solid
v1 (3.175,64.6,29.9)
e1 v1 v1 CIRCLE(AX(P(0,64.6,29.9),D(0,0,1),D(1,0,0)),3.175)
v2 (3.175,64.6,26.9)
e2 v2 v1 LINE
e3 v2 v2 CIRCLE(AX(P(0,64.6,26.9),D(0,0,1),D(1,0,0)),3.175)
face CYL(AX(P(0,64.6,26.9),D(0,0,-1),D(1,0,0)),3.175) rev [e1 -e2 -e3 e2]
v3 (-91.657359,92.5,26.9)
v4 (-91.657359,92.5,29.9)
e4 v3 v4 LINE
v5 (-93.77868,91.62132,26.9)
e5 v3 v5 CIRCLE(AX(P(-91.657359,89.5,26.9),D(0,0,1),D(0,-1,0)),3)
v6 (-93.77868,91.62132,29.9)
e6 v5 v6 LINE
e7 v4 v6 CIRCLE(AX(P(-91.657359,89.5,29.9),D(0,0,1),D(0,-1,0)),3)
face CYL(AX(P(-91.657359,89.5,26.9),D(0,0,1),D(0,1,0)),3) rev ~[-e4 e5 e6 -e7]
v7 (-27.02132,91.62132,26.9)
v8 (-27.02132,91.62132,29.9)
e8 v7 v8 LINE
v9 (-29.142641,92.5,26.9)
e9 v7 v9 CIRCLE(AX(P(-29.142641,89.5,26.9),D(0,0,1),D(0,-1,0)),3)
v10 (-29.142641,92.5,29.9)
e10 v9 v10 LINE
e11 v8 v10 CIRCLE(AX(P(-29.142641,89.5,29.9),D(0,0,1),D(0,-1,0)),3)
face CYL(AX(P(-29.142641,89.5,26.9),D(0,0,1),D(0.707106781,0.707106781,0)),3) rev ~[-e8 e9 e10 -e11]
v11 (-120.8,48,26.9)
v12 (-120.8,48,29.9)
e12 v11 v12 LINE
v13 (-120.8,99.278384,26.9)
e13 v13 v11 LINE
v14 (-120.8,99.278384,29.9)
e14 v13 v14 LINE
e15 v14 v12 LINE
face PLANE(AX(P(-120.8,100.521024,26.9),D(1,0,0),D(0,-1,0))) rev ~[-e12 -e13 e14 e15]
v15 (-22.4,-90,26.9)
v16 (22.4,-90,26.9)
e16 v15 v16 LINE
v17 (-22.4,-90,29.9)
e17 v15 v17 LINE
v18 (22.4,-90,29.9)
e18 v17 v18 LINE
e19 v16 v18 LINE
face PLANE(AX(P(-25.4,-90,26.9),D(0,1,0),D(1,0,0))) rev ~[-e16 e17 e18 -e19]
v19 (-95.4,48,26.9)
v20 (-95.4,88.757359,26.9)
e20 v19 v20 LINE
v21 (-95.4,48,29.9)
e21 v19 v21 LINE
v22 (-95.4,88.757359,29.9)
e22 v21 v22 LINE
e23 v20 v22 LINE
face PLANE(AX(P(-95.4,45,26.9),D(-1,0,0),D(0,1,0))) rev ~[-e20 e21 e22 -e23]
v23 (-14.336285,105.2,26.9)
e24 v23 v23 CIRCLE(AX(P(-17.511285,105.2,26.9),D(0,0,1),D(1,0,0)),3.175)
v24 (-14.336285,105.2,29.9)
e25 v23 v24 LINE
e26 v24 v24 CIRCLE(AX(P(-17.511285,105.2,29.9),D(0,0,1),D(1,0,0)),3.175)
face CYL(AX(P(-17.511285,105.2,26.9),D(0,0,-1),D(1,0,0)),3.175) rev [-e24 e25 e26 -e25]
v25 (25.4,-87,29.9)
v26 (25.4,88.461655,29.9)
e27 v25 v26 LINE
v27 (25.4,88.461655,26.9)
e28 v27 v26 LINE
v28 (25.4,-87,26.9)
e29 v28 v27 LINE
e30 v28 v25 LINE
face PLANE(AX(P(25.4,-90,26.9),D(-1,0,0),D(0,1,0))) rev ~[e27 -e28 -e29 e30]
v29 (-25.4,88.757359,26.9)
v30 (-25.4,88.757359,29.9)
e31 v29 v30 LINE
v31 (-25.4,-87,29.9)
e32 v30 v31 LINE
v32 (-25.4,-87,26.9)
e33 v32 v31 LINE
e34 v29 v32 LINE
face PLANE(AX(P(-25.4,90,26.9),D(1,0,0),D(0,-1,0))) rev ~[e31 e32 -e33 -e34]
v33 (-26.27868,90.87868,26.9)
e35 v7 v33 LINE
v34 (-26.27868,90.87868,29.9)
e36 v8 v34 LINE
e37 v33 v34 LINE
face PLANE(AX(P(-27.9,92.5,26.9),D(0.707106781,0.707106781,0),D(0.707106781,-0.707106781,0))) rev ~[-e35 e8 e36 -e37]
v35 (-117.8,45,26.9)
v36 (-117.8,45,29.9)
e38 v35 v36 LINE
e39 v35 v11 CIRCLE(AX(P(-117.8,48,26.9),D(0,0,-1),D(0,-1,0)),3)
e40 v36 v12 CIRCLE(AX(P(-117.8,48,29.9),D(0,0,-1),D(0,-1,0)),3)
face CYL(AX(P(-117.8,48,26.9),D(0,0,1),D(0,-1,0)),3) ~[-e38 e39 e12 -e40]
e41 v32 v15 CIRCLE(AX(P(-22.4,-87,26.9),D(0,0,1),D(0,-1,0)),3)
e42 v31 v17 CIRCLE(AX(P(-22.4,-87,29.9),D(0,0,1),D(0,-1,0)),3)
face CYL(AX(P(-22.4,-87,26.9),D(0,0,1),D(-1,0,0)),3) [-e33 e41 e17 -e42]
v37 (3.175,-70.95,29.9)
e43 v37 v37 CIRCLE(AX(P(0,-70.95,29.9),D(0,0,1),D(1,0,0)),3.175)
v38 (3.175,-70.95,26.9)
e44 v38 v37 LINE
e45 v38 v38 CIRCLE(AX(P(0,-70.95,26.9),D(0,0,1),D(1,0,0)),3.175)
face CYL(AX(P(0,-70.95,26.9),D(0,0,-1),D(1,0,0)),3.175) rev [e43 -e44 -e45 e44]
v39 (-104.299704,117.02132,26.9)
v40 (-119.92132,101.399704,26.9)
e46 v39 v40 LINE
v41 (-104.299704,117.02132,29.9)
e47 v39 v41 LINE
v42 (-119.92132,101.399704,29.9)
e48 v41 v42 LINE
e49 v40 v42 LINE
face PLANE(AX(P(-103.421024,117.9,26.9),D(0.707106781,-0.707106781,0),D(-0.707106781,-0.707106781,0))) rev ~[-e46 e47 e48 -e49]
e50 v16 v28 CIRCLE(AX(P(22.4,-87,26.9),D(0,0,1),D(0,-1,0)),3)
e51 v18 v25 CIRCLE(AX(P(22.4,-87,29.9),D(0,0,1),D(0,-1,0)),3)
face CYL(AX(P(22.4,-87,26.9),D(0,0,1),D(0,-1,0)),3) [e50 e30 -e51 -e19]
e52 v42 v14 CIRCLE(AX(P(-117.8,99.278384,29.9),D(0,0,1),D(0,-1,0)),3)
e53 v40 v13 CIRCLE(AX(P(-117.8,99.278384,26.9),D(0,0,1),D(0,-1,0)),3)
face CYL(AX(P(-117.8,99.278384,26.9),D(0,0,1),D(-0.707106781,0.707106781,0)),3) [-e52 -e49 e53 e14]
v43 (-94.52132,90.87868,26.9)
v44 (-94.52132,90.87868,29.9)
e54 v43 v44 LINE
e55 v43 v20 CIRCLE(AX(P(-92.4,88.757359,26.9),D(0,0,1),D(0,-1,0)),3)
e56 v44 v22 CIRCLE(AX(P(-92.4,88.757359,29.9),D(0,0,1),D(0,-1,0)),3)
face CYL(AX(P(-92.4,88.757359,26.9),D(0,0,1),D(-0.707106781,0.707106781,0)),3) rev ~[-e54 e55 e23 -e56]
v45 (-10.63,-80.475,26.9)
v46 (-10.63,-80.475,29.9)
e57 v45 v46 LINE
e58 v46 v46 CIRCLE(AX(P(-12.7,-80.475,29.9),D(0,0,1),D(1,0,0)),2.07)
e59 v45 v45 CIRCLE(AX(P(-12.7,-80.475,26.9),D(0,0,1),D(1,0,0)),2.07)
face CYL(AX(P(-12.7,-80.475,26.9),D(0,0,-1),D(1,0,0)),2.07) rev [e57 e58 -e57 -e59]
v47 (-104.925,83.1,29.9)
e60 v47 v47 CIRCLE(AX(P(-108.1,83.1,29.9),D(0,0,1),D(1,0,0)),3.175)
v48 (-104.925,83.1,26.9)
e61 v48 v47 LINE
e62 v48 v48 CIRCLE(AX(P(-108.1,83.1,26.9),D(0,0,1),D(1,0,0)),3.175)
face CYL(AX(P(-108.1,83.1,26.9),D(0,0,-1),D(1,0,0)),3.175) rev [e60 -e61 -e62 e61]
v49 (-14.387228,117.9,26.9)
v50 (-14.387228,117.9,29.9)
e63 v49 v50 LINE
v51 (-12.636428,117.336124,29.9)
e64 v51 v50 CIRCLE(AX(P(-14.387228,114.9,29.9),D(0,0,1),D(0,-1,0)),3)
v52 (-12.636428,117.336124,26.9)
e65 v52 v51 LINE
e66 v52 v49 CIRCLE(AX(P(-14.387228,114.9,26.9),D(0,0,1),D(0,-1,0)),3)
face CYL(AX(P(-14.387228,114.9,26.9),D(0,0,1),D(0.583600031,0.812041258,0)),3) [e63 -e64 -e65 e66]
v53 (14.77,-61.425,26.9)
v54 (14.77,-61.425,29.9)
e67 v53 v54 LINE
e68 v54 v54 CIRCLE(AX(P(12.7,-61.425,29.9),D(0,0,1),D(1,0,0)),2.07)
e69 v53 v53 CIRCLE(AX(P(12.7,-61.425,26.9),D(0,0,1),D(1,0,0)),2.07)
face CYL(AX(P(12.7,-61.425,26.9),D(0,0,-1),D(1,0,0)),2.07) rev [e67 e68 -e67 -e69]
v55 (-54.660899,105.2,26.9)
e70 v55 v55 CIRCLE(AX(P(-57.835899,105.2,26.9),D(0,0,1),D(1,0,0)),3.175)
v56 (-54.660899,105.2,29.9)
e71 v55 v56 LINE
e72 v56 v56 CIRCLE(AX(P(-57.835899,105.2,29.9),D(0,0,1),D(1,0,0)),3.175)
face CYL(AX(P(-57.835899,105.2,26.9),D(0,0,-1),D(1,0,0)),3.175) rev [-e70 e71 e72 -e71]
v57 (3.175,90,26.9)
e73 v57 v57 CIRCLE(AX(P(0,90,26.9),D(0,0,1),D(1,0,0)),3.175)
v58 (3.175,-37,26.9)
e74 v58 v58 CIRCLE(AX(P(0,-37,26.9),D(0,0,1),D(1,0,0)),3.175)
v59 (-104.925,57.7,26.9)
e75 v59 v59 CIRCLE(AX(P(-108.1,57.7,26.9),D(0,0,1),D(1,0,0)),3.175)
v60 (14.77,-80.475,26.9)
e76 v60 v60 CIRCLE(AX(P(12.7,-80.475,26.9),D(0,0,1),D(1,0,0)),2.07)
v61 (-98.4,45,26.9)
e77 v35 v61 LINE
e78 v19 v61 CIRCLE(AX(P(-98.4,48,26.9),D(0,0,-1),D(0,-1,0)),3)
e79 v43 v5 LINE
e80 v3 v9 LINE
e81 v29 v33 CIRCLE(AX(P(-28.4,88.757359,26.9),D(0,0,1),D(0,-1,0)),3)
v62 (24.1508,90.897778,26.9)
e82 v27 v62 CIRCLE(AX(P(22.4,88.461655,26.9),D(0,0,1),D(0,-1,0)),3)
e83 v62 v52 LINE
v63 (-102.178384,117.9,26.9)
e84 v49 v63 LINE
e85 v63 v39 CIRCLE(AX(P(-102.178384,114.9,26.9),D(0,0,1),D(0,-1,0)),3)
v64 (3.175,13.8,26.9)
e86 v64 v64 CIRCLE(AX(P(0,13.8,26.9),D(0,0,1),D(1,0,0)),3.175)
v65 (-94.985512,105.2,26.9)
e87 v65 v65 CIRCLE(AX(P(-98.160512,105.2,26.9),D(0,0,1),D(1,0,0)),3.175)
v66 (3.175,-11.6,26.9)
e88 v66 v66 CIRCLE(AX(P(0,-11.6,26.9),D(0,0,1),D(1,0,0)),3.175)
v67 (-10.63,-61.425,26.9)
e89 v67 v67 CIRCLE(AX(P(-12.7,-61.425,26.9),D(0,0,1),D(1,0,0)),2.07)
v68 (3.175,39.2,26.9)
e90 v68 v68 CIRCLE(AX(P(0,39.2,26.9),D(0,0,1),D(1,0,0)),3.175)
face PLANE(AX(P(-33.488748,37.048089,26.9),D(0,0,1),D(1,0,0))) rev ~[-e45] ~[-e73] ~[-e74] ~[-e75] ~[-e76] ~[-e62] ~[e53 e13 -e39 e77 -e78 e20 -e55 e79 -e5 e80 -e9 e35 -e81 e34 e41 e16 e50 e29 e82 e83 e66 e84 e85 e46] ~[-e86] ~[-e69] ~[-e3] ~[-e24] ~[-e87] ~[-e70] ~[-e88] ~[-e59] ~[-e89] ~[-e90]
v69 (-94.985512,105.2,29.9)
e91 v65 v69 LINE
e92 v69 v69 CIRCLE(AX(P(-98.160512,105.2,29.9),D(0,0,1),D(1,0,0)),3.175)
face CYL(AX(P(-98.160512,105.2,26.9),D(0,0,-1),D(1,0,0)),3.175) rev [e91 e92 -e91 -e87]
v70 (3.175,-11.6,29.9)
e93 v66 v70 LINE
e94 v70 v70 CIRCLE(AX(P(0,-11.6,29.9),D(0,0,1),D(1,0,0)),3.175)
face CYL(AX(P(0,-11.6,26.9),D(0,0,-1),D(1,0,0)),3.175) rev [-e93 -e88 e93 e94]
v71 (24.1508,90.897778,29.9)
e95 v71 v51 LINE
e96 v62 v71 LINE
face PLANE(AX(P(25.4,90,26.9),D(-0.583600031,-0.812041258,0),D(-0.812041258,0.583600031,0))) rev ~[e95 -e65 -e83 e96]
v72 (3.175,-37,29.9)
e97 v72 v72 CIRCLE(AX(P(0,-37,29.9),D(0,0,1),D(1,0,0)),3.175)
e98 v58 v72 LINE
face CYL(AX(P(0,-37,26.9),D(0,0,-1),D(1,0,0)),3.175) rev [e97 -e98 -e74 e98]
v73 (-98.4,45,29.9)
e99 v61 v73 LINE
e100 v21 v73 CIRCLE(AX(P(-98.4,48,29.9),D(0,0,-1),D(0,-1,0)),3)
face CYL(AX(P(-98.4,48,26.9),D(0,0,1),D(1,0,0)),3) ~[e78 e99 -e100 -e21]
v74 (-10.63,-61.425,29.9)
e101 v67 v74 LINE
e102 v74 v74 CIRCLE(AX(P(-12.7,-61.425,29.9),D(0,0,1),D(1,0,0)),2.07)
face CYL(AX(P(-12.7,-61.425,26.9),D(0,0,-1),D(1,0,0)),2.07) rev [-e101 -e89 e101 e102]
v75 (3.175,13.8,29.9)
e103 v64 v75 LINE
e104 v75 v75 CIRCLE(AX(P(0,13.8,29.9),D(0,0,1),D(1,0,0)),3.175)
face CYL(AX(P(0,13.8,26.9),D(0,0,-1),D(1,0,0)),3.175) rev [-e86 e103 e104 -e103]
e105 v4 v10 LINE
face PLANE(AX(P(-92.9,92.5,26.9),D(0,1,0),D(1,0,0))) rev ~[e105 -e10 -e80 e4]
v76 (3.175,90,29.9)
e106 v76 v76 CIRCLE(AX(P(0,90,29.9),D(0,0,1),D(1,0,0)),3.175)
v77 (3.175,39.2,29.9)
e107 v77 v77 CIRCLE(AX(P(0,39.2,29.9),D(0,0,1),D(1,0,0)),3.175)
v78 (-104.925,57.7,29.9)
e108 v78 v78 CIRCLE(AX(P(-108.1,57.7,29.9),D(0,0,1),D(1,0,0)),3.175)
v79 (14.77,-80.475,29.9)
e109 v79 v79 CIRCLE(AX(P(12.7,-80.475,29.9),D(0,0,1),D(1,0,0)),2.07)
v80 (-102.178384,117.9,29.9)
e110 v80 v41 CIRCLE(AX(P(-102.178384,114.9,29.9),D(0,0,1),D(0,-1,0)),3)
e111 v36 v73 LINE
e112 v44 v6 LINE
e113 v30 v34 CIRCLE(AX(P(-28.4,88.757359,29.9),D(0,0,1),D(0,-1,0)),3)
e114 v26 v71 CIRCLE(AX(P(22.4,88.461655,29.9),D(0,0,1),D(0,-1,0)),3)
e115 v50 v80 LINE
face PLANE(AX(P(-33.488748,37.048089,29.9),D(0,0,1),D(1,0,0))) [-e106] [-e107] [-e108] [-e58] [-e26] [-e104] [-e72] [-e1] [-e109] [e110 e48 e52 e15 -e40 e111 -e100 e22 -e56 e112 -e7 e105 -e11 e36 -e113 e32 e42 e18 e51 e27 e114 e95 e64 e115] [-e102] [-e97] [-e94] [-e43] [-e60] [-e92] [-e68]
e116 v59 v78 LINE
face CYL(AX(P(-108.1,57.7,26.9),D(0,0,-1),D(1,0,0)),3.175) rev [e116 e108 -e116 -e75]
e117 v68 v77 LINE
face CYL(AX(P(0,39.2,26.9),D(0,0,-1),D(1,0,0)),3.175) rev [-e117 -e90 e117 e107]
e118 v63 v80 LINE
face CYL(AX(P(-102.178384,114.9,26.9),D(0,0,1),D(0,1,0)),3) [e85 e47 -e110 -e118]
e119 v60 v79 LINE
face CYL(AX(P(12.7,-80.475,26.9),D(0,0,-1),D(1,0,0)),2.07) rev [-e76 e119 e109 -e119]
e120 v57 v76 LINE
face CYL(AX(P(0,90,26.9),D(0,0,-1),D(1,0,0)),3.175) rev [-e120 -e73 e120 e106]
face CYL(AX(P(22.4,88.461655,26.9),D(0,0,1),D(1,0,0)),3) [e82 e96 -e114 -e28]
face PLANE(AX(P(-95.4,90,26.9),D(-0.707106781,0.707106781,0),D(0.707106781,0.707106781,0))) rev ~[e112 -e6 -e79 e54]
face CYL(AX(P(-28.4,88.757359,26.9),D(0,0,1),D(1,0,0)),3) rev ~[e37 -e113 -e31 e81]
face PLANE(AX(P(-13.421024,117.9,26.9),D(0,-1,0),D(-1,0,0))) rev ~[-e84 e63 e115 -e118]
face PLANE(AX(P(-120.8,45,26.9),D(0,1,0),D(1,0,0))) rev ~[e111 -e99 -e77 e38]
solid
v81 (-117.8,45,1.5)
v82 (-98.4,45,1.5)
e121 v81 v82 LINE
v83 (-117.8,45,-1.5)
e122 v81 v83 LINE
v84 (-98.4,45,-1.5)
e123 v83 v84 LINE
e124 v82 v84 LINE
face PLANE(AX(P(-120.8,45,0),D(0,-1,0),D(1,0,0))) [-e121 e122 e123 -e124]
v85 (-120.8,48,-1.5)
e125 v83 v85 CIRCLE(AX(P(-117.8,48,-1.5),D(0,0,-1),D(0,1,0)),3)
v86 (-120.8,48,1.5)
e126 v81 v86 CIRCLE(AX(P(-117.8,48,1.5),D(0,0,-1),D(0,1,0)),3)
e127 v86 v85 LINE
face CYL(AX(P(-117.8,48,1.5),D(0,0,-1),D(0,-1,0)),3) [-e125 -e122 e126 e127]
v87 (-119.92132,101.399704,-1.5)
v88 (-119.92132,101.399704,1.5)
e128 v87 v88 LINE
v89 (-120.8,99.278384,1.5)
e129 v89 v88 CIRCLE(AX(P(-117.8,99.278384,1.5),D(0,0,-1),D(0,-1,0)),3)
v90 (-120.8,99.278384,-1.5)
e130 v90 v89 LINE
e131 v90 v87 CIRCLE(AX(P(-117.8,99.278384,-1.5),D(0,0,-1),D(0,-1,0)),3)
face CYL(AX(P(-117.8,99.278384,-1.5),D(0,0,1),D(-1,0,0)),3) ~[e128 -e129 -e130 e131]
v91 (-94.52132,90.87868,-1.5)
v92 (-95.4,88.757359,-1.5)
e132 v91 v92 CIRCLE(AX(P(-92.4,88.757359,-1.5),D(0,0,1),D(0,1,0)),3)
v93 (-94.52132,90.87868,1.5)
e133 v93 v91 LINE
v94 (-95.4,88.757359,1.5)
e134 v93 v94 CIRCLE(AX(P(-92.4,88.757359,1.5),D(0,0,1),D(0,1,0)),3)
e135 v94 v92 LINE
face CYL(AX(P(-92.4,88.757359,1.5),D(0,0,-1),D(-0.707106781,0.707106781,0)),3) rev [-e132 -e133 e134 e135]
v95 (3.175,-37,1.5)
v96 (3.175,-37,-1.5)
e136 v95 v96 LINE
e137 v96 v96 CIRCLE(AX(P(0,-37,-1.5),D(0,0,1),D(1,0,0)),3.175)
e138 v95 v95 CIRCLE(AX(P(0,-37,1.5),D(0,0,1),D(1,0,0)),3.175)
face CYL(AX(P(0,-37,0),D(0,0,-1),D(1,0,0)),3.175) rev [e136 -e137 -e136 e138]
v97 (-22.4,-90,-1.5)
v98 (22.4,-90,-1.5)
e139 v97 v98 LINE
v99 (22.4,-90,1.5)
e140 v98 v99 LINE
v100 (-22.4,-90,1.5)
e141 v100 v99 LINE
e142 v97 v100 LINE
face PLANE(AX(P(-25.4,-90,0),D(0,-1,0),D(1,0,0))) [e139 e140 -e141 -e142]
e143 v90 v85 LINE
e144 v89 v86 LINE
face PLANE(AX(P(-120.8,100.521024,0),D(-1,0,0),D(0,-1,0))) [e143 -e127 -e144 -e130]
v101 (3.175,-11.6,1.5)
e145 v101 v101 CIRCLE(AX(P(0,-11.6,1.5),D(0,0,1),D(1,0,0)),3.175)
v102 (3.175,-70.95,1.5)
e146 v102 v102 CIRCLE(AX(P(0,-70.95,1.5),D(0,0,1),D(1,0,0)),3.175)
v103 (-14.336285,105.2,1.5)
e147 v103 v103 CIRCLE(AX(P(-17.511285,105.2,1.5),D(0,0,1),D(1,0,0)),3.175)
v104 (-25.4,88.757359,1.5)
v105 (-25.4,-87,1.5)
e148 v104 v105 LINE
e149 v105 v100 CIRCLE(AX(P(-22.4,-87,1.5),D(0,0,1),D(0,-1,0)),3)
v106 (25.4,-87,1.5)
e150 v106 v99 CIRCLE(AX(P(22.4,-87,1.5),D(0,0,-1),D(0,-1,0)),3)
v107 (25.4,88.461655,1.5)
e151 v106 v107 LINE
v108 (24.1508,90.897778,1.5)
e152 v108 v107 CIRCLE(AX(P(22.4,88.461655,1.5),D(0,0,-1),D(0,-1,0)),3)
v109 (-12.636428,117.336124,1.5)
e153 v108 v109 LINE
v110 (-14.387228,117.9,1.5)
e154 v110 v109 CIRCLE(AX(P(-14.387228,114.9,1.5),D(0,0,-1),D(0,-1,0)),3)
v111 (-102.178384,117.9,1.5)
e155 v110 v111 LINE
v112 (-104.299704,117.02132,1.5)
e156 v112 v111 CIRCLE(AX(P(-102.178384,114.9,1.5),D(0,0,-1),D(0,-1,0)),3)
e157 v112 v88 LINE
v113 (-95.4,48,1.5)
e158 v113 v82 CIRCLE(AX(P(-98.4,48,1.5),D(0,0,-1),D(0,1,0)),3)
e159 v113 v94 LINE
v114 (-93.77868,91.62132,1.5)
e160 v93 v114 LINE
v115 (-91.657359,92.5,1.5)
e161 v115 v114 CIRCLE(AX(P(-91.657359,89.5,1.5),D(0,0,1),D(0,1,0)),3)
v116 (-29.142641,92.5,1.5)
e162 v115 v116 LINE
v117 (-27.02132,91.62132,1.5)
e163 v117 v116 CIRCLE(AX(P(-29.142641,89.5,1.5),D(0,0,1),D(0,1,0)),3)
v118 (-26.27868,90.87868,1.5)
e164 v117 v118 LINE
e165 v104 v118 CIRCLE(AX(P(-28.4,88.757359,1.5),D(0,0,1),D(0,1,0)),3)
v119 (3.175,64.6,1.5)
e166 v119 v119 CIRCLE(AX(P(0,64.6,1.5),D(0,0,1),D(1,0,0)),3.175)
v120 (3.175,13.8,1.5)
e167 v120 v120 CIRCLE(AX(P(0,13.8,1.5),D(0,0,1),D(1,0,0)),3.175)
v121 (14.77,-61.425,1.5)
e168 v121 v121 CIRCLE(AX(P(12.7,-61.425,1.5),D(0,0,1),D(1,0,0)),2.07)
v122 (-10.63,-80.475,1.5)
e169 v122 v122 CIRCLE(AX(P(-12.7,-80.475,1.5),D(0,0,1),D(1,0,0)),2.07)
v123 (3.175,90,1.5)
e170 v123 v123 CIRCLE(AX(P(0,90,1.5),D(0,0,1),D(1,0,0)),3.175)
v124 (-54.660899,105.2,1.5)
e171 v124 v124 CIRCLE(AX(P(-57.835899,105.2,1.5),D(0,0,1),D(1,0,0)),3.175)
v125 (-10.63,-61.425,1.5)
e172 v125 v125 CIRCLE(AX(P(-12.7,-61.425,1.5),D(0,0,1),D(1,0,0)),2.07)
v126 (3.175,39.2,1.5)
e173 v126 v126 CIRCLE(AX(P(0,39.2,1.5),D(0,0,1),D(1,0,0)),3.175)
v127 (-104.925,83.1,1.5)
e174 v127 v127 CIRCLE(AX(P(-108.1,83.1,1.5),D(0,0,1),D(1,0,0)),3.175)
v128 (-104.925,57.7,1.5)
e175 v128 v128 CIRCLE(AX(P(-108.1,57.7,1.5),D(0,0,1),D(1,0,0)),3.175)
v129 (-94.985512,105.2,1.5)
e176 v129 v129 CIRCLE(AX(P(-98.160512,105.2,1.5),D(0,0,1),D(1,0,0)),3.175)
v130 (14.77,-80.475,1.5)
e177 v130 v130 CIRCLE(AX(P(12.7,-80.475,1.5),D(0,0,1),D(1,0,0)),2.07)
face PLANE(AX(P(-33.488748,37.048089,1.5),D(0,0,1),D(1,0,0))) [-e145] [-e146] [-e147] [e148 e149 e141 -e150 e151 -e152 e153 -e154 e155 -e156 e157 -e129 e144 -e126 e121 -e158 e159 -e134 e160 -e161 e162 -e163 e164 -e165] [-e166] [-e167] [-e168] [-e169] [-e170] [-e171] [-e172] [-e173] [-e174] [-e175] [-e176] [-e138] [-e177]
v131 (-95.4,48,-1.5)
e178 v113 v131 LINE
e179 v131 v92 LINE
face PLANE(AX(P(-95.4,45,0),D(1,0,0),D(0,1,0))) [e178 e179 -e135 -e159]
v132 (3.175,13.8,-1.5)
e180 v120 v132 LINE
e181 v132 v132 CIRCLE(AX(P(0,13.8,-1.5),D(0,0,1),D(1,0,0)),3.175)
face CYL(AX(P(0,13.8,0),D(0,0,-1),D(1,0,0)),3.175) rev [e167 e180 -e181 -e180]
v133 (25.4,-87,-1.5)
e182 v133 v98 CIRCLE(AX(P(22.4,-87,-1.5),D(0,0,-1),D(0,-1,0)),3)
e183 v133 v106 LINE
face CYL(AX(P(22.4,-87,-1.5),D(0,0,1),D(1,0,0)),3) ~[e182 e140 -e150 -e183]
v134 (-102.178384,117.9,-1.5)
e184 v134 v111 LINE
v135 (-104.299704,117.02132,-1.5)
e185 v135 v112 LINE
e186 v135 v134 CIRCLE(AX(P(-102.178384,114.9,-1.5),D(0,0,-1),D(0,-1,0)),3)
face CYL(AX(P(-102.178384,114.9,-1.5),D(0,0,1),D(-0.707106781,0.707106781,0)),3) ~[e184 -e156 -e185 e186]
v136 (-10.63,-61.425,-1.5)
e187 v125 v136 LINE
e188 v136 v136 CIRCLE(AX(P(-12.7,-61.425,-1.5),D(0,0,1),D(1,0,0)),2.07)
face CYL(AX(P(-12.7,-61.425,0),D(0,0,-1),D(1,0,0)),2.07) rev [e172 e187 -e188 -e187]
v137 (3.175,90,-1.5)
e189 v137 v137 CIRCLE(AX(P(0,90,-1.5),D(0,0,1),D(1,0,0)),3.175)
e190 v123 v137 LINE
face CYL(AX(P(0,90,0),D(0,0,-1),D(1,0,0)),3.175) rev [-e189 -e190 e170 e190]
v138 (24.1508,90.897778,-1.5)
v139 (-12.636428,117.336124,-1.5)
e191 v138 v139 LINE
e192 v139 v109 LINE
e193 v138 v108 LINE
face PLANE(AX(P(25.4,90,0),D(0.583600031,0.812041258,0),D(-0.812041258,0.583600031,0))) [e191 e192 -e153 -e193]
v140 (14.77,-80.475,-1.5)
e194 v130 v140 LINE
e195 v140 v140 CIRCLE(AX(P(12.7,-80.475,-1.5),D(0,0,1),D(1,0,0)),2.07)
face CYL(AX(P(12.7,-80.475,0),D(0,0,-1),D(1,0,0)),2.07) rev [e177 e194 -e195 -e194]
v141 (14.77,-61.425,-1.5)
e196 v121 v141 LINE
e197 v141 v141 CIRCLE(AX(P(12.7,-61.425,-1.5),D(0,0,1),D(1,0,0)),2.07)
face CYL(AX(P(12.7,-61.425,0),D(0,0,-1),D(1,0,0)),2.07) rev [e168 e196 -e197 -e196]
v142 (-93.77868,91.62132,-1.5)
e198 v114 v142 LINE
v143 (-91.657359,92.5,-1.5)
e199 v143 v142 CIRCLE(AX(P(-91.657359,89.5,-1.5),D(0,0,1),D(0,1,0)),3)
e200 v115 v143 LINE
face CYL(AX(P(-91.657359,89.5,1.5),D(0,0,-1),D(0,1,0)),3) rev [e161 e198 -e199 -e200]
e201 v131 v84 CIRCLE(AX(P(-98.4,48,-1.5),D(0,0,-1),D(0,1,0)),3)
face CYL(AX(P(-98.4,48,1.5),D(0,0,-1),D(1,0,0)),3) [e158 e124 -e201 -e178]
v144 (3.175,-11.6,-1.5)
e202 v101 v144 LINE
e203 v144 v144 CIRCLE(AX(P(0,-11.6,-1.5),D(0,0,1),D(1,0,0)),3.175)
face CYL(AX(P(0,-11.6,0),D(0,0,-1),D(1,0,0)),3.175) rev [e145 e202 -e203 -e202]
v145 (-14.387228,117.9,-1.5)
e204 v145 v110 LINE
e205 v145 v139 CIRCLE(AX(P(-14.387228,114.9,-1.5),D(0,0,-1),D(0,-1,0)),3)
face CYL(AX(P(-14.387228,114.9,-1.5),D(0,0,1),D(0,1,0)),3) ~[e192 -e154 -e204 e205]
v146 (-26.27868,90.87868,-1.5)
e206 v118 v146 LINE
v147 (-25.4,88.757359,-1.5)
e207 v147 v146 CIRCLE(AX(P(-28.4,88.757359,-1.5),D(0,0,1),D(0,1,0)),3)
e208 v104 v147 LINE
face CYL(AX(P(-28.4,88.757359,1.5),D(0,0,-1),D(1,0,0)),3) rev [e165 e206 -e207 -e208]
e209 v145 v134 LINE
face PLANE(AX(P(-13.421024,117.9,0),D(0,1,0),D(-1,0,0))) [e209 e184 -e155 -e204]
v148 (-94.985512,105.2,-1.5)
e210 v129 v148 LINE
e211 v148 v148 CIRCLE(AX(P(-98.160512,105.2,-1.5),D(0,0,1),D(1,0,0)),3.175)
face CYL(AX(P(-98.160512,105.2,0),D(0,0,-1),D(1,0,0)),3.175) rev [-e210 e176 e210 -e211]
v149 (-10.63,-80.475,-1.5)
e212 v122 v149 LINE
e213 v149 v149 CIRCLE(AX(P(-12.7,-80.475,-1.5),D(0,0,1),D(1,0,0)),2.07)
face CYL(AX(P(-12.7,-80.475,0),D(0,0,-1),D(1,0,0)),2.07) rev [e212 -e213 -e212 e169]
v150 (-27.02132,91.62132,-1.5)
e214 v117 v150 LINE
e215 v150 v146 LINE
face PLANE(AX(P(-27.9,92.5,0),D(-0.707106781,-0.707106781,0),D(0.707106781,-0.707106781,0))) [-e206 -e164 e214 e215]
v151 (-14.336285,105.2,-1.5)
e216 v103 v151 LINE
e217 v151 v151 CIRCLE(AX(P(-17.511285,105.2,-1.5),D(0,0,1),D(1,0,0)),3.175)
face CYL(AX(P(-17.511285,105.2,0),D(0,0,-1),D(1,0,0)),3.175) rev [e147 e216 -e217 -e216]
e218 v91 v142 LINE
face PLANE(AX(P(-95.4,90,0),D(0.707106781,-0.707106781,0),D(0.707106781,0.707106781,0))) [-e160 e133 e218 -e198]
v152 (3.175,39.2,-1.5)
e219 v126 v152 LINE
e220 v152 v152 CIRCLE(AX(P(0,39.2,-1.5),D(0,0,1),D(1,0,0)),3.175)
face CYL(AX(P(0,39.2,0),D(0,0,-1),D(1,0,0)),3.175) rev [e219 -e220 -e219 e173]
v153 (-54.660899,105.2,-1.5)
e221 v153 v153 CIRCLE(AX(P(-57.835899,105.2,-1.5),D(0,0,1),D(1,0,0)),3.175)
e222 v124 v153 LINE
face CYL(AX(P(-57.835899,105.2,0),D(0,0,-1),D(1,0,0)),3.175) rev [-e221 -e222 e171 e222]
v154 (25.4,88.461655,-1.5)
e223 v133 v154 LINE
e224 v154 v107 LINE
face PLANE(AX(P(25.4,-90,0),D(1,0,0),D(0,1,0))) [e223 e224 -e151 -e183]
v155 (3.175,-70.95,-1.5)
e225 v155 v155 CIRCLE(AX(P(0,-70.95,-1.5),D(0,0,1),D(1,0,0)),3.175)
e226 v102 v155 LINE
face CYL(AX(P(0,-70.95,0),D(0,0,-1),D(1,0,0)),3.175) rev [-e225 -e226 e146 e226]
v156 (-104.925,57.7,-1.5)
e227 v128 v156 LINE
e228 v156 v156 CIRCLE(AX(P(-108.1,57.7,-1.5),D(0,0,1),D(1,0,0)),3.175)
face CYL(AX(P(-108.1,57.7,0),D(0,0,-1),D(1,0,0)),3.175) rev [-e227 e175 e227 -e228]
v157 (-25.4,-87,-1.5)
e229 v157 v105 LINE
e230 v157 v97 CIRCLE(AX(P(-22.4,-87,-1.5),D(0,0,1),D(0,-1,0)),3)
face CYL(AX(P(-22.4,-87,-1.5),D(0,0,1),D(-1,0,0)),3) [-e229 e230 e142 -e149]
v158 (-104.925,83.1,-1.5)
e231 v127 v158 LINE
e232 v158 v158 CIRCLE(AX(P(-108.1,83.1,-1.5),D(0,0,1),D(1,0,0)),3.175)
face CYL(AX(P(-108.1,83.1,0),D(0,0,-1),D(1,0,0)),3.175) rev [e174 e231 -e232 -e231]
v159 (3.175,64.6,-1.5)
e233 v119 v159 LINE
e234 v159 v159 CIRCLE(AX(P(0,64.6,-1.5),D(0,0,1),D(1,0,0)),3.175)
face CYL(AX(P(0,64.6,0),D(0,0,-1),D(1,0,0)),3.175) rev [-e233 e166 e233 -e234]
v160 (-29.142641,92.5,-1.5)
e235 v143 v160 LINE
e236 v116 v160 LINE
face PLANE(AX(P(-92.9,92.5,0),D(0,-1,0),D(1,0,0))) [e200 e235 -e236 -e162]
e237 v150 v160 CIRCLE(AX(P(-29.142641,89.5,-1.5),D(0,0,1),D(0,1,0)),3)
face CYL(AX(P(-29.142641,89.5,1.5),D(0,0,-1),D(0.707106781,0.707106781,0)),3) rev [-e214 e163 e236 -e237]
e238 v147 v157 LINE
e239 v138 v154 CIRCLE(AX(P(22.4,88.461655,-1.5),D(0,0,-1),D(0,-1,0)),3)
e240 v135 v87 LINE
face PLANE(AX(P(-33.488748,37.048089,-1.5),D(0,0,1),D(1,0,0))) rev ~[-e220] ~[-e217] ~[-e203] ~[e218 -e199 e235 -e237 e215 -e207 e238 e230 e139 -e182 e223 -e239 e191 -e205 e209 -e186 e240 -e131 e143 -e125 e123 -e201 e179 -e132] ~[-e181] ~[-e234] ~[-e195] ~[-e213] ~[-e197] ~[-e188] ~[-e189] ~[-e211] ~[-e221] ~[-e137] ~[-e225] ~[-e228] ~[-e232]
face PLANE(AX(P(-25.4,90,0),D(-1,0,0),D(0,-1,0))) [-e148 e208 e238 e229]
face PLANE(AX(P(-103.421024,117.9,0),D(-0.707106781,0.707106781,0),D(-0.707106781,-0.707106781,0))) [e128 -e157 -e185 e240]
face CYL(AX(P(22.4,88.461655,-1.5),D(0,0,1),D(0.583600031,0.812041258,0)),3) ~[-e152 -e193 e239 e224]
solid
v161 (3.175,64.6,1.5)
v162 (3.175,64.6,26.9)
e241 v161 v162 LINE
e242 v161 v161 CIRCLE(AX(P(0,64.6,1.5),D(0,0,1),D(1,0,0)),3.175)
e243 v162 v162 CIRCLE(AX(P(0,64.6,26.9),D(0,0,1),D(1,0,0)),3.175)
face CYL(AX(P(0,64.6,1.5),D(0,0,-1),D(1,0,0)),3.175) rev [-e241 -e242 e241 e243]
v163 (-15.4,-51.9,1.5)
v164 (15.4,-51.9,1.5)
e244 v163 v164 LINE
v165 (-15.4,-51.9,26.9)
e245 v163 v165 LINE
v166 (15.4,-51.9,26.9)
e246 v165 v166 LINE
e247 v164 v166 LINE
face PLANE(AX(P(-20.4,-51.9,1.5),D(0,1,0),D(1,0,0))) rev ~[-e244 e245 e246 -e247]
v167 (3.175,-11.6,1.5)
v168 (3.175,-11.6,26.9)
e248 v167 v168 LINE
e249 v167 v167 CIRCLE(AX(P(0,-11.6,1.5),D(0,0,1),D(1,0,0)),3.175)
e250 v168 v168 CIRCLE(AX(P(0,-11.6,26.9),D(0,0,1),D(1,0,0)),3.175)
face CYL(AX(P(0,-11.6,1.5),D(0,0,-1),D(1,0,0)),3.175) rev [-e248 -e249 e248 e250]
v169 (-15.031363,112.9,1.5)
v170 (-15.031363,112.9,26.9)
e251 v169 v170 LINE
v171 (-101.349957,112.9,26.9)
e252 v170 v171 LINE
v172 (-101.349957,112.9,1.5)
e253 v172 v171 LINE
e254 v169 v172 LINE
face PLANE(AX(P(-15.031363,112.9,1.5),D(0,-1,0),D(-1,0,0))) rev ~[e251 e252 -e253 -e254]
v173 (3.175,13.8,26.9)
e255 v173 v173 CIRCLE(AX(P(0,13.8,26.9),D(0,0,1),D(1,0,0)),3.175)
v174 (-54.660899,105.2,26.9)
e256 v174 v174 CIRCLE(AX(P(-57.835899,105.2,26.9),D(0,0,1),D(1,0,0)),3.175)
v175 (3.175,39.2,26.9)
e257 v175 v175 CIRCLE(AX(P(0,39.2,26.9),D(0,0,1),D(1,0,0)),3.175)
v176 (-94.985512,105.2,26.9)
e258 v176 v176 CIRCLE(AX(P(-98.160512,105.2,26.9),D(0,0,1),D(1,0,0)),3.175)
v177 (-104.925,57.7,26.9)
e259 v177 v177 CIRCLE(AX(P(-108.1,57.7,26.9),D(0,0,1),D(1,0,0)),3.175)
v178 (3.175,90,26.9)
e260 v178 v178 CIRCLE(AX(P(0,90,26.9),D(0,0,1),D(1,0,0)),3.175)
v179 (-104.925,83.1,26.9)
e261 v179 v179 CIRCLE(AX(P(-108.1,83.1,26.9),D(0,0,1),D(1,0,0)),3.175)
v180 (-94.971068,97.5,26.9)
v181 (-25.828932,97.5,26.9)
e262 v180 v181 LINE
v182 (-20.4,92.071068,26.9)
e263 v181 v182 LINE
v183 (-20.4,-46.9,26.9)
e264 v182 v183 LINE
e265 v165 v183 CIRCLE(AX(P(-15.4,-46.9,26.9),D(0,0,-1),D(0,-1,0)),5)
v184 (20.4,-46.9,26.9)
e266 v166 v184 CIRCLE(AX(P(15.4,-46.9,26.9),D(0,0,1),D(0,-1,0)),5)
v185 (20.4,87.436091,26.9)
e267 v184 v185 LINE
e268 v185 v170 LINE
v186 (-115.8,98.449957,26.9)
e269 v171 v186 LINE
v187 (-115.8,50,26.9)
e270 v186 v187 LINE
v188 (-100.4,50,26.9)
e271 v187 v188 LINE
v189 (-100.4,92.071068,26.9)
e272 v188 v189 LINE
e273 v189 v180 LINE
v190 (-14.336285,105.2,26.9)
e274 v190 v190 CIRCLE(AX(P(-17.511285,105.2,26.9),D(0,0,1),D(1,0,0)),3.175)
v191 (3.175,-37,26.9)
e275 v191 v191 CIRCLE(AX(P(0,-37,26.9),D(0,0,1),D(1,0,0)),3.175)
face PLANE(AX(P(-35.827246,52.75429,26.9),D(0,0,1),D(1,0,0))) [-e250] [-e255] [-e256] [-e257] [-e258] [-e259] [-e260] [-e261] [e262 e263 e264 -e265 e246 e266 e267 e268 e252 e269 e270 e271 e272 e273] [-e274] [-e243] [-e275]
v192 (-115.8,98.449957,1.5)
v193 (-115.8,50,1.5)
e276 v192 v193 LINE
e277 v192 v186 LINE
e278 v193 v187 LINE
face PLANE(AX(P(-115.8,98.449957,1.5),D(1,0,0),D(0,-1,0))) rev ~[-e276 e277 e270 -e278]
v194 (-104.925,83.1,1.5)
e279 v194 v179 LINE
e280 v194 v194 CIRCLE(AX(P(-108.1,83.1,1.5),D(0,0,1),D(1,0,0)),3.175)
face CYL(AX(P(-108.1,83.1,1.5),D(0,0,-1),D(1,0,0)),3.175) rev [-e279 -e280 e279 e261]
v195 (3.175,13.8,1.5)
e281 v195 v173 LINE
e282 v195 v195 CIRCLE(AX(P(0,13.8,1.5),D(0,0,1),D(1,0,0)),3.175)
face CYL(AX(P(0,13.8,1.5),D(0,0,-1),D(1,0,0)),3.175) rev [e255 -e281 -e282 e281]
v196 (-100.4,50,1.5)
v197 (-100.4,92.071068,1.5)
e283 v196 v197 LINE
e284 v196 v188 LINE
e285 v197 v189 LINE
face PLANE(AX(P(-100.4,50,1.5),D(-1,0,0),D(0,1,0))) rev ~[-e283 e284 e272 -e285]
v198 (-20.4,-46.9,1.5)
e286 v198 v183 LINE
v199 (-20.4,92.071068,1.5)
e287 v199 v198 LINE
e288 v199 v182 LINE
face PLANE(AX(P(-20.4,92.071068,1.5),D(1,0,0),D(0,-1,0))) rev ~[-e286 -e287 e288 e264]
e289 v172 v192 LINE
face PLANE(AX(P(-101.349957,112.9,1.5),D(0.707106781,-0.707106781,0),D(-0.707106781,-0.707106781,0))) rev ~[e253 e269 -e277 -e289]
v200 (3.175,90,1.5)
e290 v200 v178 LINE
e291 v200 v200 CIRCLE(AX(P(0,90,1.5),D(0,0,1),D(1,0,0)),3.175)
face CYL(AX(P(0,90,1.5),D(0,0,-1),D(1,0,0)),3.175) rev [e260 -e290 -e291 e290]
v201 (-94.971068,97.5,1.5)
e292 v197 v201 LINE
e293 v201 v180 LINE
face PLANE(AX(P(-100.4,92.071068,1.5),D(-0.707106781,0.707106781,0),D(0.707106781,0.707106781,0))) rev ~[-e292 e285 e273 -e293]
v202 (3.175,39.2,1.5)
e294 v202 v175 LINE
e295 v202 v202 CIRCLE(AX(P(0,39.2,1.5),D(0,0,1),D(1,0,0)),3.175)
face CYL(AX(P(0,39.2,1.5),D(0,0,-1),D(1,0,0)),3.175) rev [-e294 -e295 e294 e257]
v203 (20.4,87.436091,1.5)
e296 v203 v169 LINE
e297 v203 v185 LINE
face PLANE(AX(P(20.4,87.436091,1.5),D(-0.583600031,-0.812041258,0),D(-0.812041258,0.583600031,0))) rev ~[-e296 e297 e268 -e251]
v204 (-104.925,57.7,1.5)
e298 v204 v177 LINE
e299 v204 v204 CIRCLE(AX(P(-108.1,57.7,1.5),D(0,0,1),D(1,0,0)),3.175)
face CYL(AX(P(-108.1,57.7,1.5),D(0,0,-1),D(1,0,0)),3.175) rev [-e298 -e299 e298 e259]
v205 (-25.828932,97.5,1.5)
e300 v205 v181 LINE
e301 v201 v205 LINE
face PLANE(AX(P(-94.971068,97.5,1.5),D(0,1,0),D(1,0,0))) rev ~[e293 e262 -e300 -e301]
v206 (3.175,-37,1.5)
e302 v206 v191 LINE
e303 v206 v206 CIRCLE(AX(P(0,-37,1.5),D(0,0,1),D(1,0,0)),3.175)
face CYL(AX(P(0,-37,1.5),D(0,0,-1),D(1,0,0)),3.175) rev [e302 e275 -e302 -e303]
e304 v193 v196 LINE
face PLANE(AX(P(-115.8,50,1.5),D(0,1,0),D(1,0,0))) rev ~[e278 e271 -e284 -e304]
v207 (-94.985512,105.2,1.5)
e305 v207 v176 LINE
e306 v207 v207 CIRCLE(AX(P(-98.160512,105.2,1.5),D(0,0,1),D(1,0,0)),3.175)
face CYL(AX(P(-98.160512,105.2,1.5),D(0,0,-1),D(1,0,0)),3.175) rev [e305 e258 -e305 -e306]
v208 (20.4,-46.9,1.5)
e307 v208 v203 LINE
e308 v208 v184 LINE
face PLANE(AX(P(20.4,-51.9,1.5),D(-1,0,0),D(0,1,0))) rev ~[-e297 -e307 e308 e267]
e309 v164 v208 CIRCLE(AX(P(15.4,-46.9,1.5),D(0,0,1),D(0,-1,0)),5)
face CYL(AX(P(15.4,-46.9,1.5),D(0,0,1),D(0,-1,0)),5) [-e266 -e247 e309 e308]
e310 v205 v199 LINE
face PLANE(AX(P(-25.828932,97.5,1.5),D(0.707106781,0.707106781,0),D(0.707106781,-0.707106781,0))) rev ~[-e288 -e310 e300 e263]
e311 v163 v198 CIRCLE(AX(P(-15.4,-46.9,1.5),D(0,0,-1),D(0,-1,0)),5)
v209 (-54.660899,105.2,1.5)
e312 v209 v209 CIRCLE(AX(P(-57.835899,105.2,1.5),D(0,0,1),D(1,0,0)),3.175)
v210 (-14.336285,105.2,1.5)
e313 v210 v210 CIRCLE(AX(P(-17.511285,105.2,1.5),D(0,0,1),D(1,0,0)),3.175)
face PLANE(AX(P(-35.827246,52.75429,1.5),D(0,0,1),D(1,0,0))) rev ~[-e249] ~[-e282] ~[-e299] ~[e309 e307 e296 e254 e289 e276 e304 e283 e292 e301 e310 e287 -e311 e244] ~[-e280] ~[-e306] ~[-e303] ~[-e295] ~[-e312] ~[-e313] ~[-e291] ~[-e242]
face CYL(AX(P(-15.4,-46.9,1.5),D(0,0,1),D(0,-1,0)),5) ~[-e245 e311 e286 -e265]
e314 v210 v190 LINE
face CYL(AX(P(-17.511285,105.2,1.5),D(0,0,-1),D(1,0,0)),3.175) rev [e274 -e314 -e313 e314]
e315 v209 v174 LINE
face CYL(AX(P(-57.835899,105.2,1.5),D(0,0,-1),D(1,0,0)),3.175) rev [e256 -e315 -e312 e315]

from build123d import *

# Parameters (mm, degrees)
SKETCH2_R           = 3.175
SKETCH2_R_2         = 2.07
BOSS_EXTRUDE1_DEPTH = 1.5
SKETCH3_R           = 3.175
BOSS_EXTRUDE2_DEPTH = 25.4
FILLET2_R           = 5
BOSS_EXTRUDE3_START = 26.9
SKETCH2_3_R         = 3.175
SKETCH2_3_R_2       = 2.07
BOSS_EXTRUDE3_DEPTH = 3
FILLET3_R           = 3
FILLET4_R           = 3


with BuildPart() as part:
    # Sketch2 → Boss-Extrude1 (new, symmetric)
    with BuildSketch(Plane.XY):
        Polygon((-25.4, 90), (-25.4, -90), (25.4, -90), (25.4, 90), (-13.421024484, 117.9), (-103.421024484, 117.9), (-120.8, 100.521024484), (-120.8, 45), (-95.4, 45), (-95.4, 90), (-92.9, 92.5), (-27.9, 92.5), align=None)
        with Locations((-108.1, 57.7)):
            Circle(SKETCH2_R, mode=Mode.SUBTRACT)
        with Locations((-108.1, 83.1)):
            Circle(SKETCH2_R, mode=Mode.SUBTRACT)
        with Locations((0, 90)):
            Circle(SKETCH2_R, mode=Mode.SUBTRACT)
        with Locations((0, 64.6)):
            Circle(SKETCH2_R, mode=Mode.SUBTRACT)
        with Locations((0, 39.2)):
            Circle(SKETCH2_R, mode=Mode.SUBTRACT)
        with Locations((0, 13.8)):
            Circle(SKETCH2_R, mode=Mode.SUBTRACT)
        with Locations((0, -11.6)):
            Circle(SKETCH2_R, mode=Mode.SUBTRACT)
        with Locations((0, -37)):
            Circle(SKETCH2_R, mode=Mode.SUBTRACT)
        with Locations((-57.835898506, 105.2)):
            Circle(SKETCH2_R, mode=Mode.SUBTRACT)
        with Locations((-98.160512242, 105.2)):
            Circle(SKETCH2_R, mode=Mode.SUBTRACT)
        with Locations((-17.51128477, 105.2)):
            Circle(SKETCH2_R, mode=Mode.SUBTRACT)
        with Locations((0, -70.95)):
            Circle(SKETCH2_R, mode=Mode.SUBTRACT)
        with Locations((-12.7, -61.425)):
            Circle(SKETCH2_R_2, mode=Mode.SUBTRACT)
        with Locations((12.7, -61.425)):
            Circle(SKETCH2_R_2, mode=Mode.SUBTRACT)
        with Locations((12.7, -80.475)):
            Circle(SKETCH2_R_2, mode=Mode.SUBTRACT)
        with Locations((-12.7, -80.475)):
            Circle(SKETCH2_R_2, mode=Mode.SUBTRACT)
    extrude(amount=BOSS_EXTRUDE1_DEPTH, both=True)

    # Fillet4
    fillet4_edges = [part.edges().sort_by_distance(p)[0] for p in [
        (-120.8, 100.521024484, 0),
        (-103.421024484, 117.9, 0),
        (-13.421024484, 117.9, 0),
        (25.4, 90, 0),
        (25.4, -90, 0),
        (-25.4, -90, 0),
        (-25.4, 90, 0),
        (-27.9, 92.5, 0),
        (-92.9, 92.5, 0),
        (-95.4, 90, 0),
        (-95.4, 45, 0),
        (-120.8, 45, 0),
    ]]
    fillet(fillet4_edges, radius=FILLET4_R)


with BuildPart() as body_2:
    # Sketch3 → Boss-Extrude2 (new body)
    with BuildSketch(Plane.XY.offset(1.5)):
        Polygon((-20.4, -51.9), (20.4, -51.9), (20.4, 87.436091053), (-15.031363179, 112.9), (-101.349956672, 112.9), (-115.8, 98.449956672), (-115.8, 50), (-100.4, 50), (-100.4, 92.071067812), (-94.971067812, 97.5), (-25.828932188, 97.5), (-20.4, 92.071067812), align=None)
        with Locations((0, -37)):
            Circle(SKETCH3_R, mode=Mode.SUBTRACT)
        with Locations((0, -11.6)):
            Circle(SKETCH3_R, mode=Mode.SUBTRACT)
        with Locations((0, 13.8)):
            Circle(SKETCH3_R, mode=Mode.SUBTRACT)
        with Locations((-108.1, 57.7)):
            Circle(SKETCH3_R, mode=Mode.SUBTRACT)
        with Locations((-108.1, 83.1)):
            Circle(SKETCH3_R, mode=Mode.SUBTRACT)
        with Locations((-98.160512242, 105.2)):
            Circle(SKETCH3_R, mode=Mode.SUBTRACT)
        with Locations((-57.835898506, 105.2)):
            Circle(SKETCH3_R, mode=Mode.SUBTRACT)
        with Locations((0, 39.2)):
            Circle(SKETCH3_R, mode=Mode.SUBTRACT)
        with Locations((0, 64.6)):
            Circle(SKETCH3_R, mode=Mode.SUBTRACT)
        with Locations((-17.51128477, 105.2)):
            Circle(SKETCH3_R, mode=Mode.SUBTRACT)
        with Locations((0, 90)):
            Circle(SKETCH3_R, mode=Mode.SUBTRACT)
    extrude(amount=BOSS_EXTRUDE2_DEPTH)

    # Fillet2
    fillet2_edges = [body_2.edges().sort_by_distance(p)[0] for p in [
        (20.4, -51.9, 14.2),
        (-20.4, -51.9, 14.2),
    ]]
    fillet(fillet2_edges, radius=FILLET2_R)


with BuildPart() as body_3:
    # Sketch2<3> → Boss-Extrude3 (new body)
    with BuildSketch(Plane.XY.offset(BOSS_EXTRUDE3_START)):
        Polygon((-25.4, 90), (-25.4, -90), (25.4, -90), (25.4, 90), (-13.421024484, 117.9), (-103.421024484, 117.9), (-120.8, 100.521024484), (-120.8, 45), (-95.4, 45), (-95.4, 90), (-92.9, 92.5), (-27.9, 92.5), align=None)
        with Locations((-108.1, 57.7)):
            Circle(SKETCH2_3_R, mode=Mode.SUBTRACT)
        with Locations((-108.1, 83.1)):
            Circle(SKETCH2_3_R, mode=Mode.SUBTRACT)
        with Locations((0, 90)):
            Circle(SKETCH2_3_R, mode=Mode.SUBTRACT)
        with Locations((0, 64.6)):
            Circle(SKETCH2_3_R, mode=Mode.SUBTRACT)
        with Locations((0, 39.2)):
            Circle(SKETCH2_3_R, mode=Mode.SUBTRACT)
        with Locations((0, 13.8)):
            Circle(SKETCH2_3_R, mode=Mode.SUBTRACT)
        with Locations((0, -11.6)):
            Circle(SKETCH2_3_R, mode=Mode.SUBTRACT)
        with Locations((0, -37)):
            Circle(SKETCH2_3_R, mode=Mode.SUBTRACT)
        with Locations((-57.835898506, 105.2)):
            Circle(SKETCH2_3_R, mode=Mode.SUBTRACT)
        with Locations((-98.160512242, 105.2)):
            Circle(SKETCH2_3_R, mode=Mode.SUBTRACT)
        with Locations((-17.51128477, 105.2)):
            Circle(SKETCH2_3_R, mode=Mode.SUBTRACT)
        with Locations((0, -70.95)):
            Circle(SKETCH2_3_R, mode=Mode.SUBTRACT)
        with Locations((-12.7, -61.425)):
            Circle(SKETCH2_3_R_2, mode=Mode.SUBTRACT)
        with Locations((12.7, -61.425)):
            Circle(SKETCH2_3_R_2, mode=Mode.SUBTRACT)
        with Locations((12.7, -80.475)):
            Circle(SKETCH2_3_R_2, mode=Mode.SUBTRACT)
        with Locations((-12.7, -80.475)):
            Circle(SKETCH2_3_R_2, mode=Mode.SUBTRACT)
    extrude(amount=BOSS_EXTRUDE3_DEPTH)

    # Fillet3
    fillet3_edges = [body_3.edges().sort_by_distance(p)[0] for p in [
        (-27.9, 92.5, 28.4),
        (-92.9, 92.5, 28.4),
        (-95.4, 90, 28.4),
        (-95.4, 45, 28.4),
        (-120.8, 45, 28.4),
        (-120.8, 100.521024484, 28.4),
        (-103.421024484, 117.9, 28.4),
        (-13.421024484, 117.9, 28.4),
        (25.4, 90, 28.4),
        (25.4, -90, 28.4),
        (-25.4, -90, 28.4),
        (-25.4, 90, 28.4),
    ]]
    fillet(fillet3_edges, radius=FILLET3_R)


solid = Compound([part.part, body_2.part, body_3.part])
